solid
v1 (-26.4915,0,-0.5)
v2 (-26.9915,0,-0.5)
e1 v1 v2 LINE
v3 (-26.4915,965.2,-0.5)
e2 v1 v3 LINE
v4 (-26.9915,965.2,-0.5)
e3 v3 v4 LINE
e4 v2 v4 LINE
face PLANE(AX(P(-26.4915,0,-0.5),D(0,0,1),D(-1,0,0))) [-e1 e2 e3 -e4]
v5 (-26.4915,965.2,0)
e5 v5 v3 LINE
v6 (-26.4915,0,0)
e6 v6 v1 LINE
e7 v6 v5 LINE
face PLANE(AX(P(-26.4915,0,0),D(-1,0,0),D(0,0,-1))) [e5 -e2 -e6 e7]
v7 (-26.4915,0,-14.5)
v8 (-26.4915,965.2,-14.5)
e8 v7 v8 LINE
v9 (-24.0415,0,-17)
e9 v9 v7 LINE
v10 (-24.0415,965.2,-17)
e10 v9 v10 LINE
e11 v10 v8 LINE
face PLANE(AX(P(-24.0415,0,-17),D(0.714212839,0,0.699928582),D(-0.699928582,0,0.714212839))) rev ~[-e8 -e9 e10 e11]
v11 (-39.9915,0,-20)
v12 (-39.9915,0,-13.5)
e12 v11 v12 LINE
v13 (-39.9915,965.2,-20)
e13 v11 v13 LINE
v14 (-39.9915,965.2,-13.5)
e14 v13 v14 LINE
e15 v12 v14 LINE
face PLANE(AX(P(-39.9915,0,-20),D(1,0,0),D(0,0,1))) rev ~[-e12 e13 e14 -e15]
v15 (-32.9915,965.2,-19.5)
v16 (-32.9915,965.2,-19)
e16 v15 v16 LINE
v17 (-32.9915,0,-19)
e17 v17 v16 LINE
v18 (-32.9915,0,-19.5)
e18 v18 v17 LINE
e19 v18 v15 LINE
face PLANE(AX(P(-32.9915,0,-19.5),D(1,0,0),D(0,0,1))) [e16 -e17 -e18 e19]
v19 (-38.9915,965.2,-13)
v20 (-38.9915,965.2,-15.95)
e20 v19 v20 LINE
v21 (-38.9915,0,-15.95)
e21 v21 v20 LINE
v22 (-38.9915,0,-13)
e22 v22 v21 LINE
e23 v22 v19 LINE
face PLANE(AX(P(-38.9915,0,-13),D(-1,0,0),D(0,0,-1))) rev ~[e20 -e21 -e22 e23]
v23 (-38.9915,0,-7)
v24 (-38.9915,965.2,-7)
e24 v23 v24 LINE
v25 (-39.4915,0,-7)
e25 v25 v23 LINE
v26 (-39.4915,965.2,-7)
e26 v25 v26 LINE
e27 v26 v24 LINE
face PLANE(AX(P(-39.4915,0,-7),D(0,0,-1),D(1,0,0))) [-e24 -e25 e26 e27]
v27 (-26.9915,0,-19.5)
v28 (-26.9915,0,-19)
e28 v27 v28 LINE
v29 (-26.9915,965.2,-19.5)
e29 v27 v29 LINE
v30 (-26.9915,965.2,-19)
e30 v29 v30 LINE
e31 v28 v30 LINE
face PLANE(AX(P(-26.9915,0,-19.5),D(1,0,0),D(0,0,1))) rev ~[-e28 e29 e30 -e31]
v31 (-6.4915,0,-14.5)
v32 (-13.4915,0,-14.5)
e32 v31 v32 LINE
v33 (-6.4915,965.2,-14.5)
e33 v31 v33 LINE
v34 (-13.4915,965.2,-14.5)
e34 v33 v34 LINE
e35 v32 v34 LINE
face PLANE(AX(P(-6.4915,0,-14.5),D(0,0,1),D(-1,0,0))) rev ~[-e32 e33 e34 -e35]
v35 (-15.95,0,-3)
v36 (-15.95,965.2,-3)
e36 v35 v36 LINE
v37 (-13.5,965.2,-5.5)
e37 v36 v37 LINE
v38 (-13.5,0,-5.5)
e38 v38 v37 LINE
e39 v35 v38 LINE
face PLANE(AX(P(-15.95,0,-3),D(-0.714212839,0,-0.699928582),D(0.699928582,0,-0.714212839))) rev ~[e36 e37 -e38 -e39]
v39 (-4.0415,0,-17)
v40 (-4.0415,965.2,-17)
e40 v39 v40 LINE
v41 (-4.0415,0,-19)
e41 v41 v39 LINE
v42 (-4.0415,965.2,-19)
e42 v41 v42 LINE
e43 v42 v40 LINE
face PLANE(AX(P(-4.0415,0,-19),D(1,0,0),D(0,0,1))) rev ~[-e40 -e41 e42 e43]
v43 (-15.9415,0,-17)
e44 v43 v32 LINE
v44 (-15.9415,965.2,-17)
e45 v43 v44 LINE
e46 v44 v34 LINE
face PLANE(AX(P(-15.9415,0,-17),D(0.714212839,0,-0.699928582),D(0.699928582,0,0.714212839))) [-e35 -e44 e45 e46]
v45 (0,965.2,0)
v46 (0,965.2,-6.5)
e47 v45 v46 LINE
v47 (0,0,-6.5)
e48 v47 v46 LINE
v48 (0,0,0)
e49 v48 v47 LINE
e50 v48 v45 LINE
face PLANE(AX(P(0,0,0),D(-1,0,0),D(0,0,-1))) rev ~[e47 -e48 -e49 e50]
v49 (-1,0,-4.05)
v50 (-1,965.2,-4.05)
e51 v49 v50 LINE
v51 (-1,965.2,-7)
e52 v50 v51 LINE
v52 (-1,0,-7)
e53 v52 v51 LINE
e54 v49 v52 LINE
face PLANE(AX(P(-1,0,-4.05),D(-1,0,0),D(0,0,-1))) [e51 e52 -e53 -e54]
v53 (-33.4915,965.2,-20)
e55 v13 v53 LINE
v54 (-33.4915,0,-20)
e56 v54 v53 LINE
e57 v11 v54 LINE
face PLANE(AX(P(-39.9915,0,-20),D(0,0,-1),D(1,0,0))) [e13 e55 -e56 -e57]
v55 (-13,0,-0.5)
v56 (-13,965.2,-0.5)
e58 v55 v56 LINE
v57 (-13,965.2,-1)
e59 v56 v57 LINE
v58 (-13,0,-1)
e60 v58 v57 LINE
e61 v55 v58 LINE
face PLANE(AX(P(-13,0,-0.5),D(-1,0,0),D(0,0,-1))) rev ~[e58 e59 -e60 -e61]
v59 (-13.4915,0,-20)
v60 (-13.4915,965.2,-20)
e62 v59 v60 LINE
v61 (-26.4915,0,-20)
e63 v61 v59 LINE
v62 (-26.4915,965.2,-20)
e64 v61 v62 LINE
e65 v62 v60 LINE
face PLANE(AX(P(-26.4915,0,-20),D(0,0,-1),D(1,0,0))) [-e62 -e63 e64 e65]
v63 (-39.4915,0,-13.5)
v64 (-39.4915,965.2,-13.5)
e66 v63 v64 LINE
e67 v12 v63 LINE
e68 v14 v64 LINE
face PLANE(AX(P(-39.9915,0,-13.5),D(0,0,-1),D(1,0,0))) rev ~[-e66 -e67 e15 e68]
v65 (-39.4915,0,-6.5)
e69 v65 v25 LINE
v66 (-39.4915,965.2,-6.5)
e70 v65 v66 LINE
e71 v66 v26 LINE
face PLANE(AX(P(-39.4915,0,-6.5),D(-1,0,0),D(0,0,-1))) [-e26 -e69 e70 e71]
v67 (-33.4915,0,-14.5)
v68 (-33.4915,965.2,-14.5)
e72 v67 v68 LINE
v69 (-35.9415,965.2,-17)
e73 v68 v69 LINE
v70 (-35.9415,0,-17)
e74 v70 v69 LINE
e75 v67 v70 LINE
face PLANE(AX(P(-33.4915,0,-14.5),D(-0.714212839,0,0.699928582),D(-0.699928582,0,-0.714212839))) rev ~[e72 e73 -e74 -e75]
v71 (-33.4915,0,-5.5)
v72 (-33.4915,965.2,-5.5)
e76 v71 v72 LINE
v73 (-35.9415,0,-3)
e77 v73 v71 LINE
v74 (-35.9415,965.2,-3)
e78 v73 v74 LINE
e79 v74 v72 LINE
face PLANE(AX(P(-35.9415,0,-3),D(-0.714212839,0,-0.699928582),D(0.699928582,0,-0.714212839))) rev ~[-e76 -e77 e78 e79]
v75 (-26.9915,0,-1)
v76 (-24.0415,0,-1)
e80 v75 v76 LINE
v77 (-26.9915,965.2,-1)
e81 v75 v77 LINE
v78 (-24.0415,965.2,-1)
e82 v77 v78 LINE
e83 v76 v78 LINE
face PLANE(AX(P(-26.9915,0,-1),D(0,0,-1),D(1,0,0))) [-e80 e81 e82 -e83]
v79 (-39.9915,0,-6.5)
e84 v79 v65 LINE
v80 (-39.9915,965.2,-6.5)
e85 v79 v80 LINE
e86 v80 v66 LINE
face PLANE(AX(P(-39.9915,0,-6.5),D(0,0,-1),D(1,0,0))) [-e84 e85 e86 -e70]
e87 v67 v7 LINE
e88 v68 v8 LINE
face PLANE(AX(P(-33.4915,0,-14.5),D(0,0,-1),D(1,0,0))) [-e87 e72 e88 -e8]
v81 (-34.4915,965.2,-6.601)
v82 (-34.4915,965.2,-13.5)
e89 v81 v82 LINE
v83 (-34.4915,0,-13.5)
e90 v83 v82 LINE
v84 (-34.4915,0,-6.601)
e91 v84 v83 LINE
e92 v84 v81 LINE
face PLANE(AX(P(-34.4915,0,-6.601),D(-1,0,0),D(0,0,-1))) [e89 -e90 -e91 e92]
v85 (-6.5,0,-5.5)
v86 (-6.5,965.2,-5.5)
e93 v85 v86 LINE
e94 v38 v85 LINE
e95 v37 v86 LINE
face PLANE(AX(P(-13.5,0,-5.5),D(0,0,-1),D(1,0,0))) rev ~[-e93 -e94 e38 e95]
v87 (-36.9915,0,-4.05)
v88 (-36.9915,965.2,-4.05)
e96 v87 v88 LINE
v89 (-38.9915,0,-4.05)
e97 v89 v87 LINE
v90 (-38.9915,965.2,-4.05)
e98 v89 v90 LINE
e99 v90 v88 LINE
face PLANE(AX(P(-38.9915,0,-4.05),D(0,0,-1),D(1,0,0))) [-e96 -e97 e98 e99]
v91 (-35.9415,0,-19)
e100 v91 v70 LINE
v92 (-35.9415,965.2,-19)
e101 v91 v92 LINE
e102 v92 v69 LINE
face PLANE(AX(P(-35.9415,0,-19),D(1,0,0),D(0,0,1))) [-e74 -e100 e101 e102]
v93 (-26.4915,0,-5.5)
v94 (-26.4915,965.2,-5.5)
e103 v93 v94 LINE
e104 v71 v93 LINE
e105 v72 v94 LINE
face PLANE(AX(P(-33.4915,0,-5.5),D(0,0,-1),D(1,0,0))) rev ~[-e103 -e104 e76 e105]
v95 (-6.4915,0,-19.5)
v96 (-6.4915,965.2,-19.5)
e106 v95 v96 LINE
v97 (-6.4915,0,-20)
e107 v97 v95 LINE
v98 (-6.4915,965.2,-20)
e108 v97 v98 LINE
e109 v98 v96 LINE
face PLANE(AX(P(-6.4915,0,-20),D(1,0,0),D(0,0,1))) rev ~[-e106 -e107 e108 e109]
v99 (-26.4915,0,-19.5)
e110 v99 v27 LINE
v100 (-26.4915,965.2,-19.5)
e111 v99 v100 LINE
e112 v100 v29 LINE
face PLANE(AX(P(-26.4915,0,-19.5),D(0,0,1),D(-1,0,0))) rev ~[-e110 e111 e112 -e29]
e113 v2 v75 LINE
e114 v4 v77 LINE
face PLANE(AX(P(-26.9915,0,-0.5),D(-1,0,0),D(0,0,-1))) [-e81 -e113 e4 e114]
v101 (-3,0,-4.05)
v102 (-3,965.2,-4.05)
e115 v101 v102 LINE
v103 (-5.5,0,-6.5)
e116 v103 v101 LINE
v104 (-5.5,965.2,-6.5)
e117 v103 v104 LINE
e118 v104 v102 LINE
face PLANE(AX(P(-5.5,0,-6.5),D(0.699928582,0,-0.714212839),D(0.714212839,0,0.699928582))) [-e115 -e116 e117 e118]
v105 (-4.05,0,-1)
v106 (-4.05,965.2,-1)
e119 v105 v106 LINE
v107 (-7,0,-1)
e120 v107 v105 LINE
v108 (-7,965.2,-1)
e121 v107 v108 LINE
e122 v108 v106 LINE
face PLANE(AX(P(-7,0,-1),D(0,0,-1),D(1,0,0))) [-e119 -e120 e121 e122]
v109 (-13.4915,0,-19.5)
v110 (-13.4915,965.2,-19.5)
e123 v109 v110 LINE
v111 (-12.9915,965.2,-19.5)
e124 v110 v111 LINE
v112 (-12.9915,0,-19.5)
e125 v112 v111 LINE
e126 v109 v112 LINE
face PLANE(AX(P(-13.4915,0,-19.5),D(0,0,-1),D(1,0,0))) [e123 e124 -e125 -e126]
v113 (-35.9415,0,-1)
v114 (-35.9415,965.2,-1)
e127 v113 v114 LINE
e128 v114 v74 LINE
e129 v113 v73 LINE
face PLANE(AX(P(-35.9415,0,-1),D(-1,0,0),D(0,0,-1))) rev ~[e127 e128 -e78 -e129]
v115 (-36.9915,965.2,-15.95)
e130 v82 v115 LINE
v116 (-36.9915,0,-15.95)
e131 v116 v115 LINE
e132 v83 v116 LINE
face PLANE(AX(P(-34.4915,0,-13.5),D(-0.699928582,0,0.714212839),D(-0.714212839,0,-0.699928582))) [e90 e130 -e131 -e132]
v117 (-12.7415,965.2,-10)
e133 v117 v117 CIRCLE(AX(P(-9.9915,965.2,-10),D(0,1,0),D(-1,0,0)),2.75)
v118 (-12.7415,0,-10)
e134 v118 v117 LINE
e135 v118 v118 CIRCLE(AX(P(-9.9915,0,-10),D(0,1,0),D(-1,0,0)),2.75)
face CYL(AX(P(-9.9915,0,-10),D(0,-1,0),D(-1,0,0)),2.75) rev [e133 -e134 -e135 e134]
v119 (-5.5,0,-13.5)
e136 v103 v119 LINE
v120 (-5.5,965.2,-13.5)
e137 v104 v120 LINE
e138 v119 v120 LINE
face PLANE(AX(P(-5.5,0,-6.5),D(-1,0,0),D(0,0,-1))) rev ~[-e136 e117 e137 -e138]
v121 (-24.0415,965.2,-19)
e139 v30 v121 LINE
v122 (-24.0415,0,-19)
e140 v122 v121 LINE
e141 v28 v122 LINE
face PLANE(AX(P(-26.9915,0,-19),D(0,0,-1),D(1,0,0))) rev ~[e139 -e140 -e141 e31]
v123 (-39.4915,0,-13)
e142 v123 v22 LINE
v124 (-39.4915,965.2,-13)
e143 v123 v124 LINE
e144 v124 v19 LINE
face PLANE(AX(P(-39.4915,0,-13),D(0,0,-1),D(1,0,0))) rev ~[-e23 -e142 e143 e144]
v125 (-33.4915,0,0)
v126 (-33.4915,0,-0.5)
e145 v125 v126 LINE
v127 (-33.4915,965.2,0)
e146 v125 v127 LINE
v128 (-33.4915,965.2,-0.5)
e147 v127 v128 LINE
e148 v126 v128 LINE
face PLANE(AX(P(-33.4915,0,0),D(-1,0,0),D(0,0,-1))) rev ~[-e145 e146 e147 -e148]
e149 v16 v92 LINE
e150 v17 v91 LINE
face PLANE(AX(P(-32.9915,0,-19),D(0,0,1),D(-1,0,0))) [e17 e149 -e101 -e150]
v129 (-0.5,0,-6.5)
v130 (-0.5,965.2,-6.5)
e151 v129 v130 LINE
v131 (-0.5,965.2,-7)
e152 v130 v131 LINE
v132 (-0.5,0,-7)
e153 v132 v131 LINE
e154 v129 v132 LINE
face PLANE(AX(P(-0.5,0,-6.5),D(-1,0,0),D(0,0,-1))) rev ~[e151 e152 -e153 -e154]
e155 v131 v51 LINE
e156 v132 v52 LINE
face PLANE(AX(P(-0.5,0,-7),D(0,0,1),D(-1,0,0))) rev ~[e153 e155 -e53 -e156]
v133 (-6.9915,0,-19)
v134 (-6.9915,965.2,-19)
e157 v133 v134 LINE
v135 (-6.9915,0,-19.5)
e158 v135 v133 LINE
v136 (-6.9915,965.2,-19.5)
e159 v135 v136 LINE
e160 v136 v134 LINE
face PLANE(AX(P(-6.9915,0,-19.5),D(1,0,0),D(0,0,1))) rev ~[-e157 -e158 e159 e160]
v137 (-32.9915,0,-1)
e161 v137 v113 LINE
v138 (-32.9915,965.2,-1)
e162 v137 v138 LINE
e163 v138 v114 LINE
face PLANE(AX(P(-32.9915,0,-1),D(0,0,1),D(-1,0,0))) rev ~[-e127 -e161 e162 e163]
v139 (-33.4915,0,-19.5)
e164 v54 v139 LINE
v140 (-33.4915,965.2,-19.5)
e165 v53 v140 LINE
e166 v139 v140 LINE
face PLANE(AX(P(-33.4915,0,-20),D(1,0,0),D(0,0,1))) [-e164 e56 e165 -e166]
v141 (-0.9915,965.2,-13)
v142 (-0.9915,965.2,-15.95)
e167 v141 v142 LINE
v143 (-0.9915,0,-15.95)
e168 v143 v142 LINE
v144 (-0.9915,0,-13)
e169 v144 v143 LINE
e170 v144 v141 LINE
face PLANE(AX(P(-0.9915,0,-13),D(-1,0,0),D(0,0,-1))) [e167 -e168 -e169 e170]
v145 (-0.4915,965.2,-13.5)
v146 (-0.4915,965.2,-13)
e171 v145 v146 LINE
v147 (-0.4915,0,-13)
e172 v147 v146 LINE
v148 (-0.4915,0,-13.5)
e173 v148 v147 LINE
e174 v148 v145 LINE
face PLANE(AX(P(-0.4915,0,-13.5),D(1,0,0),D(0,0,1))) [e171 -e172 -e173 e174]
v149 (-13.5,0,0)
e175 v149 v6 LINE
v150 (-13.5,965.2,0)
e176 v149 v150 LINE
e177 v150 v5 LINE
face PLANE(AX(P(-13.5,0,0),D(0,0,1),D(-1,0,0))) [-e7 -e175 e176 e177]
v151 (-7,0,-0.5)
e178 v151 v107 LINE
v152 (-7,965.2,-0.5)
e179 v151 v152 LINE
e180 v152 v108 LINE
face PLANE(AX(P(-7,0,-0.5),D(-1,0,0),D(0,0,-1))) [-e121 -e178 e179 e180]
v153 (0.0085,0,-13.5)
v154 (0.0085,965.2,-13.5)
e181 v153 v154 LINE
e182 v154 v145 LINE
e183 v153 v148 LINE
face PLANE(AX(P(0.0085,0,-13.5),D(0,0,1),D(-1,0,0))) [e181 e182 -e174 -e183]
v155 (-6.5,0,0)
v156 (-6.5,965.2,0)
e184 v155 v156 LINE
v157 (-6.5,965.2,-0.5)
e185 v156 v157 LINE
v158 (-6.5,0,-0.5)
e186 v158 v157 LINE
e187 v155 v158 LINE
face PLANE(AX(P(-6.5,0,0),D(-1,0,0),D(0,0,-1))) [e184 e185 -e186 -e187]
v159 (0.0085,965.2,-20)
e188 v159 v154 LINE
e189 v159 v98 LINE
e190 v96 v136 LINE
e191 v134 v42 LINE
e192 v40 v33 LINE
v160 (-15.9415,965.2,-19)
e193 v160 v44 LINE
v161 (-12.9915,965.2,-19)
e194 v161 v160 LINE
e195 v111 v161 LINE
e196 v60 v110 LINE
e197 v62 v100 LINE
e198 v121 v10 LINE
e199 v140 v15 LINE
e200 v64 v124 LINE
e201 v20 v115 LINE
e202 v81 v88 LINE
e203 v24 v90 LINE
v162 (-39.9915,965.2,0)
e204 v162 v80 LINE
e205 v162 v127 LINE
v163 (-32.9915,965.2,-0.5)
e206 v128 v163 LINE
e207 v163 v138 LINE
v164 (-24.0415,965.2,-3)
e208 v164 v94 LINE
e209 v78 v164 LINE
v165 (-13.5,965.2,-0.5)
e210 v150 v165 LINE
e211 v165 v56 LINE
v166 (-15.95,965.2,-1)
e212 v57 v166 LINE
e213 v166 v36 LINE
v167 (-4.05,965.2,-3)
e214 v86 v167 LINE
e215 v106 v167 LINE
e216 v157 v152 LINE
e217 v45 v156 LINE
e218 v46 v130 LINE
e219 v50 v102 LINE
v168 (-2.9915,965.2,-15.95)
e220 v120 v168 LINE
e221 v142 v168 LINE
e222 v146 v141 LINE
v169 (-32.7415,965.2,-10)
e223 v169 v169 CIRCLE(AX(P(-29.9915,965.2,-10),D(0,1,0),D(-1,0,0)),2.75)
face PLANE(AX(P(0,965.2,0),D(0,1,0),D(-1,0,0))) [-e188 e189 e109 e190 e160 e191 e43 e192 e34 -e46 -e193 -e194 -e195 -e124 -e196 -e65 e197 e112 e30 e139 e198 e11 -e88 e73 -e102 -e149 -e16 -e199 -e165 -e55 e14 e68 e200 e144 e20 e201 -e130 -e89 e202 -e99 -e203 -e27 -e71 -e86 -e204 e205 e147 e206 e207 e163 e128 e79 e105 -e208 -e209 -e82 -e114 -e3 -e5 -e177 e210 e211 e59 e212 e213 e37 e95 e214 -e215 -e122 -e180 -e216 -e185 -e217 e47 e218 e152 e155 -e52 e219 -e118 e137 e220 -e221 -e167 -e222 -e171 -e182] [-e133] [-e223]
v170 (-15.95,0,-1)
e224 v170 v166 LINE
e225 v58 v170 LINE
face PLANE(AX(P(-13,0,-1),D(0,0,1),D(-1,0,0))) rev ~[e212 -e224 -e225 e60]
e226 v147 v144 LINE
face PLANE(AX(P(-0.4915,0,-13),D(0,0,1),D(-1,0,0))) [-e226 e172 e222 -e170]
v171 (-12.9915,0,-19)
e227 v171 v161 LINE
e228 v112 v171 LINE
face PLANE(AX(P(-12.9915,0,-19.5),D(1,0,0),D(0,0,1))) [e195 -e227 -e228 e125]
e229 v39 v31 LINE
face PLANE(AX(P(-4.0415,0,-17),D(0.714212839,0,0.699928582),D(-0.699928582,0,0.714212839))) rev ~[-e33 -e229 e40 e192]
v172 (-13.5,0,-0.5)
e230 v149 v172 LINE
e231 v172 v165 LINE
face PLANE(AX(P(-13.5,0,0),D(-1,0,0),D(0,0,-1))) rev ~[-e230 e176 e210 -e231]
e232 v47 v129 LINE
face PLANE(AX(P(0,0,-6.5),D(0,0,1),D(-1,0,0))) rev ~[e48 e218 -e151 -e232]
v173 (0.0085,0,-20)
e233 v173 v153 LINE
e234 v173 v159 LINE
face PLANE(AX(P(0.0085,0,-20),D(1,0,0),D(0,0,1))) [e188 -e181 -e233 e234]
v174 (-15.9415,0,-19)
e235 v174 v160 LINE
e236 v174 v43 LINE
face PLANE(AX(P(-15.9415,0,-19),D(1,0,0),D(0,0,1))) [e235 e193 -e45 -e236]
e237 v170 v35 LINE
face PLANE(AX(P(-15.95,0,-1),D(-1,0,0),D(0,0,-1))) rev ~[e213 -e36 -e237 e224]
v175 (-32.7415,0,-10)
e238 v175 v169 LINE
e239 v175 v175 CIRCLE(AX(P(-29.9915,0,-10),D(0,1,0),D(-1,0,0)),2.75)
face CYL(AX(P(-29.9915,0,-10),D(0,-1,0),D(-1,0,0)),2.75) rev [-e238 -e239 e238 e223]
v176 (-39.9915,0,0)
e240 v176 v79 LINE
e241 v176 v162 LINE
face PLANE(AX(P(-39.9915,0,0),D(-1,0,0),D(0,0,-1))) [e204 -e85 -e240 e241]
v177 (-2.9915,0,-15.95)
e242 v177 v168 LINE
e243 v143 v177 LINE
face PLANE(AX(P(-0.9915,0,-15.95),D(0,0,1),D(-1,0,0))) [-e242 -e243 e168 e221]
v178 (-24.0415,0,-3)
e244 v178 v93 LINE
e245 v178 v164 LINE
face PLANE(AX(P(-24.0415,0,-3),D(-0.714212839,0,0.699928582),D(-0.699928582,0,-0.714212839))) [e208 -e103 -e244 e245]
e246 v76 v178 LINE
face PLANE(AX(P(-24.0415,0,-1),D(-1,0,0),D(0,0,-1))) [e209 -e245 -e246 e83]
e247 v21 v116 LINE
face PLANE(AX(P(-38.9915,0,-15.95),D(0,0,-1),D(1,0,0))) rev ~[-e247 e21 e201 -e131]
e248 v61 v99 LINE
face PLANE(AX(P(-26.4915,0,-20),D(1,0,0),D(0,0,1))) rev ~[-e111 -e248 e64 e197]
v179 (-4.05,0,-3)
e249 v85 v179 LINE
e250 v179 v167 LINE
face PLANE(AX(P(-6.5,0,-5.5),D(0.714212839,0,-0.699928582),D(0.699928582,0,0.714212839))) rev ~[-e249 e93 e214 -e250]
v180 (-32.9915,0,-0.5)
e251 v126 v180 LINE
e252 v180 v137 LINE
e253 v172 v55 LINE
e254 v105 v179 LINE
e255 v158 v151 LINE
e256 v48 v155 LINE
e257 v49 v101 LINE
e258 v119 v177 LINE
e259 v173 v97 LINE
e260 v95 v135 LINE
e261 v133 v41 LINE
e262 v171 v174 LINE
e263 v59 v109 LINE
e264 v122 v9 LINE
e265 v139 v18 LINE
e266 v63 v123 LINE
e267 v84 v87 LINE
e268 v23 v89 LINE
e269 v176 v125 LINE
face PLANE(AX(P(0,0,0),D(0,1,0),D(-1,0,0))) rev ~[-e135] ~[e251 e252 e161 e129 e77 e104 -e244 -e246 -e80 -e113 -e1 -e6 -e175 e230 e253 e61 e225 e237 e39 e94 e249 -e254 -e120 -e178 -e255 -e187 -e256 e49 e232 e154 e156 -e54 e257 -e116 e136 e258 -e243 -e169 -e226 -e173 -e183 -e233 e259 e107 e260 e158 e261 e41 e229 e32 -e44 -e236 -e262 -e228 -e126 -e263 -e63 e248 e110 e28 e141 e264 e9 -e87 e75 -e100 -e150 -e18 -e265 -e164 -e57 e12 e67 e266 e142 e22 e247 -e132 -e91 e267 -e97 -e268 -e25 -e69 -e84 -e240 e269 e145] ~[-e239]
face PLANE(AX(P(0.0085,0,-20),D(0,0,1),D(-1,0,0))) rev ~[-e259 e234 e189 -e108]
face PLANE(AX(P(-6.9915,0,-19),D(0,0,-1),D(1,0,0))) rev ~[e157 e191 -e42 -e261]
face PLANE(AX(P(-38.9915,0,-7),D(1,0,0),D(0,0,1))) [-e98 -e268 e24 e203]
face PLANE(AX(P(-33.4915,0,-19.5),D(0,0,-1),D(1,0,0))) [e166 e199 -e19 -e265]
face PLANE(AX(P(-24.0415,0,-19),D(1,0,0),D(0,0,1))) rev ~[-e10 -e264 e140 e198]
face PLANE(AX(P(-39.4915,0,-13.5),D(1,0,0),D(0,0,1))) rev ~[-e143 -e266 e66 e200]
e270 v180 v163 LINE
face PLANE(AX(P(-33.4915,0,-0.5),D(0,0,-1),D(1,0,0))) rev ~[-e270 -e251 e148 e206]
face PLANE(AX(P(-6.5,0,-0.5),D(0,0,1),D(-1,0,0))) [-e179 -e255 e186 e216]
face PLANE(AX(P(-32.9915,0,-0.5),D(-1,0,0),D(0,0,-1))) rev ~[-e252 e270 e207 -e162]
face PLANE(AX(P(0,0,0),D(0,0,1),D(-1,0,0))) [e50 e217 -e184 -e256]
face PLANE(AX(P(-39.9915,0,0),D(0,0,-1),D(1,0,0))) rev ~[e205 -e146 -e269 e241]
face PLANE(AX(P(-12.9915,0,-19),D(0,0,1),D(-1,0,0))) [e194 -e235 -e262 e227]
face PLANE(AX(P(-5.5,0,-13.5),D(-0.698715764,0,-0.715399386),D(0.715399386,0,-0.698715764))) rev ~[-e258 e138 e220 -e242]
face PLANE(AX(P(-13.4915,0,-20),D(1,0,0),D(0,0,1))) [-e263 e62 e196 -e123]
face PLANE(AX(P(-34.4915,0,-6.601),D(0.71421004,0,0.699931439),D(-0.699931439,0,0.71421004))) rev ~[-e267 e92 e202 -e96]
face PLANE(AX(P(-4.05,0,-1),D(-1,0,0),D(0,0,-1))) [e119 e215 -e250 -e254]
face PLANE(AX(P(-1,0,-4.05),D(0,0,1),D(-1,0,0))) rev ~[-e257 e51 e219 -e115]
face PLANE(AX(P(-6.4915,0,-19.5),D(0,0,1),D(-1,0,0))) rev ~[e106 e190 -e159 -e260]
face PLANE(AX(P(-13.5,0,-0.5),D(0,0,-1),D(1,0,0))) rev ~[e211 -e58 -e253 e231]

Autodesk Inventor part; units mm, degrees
ref_plane "YZ Plane" through (0, 0, 0) normal (1, 0, 0) x (0, 1, 0)
ref_plane "XZ Plane" through (0, 0, 0) normal (0, 1, 0) x (-1, 0, 0)
ref_plane "XY Plane" through (0, 0, 0) normal (0, 0, 1) x (1, 0, 0)
sketch "Sketch1" plane through (0, 0, 0) normal (0, 1, 0) x (-1, 0, 0)
  circle A0 centre (29.9915, -10) radius 2.75
  circle A1 centre (9.9915, -10) radius 2.75
  line L0 (0, 0) -> (0, -6.5)
  line L1 (-0.0085, -20) -> (-0.0085, -13.5)
  line L2 (0, -6.5) -> (0.5, -6.5)
  line L3 (0.5, -6.5) -> (0.5, -7)
  line L4 (0.5, -7) -> (1, -7)
  line L5 (-0.0085, -13.5) -> (0.4915, -13.5)
  line L6 (0.4915, -13.5) -> (0.4915, -13)
  line L7 (0.4915, -13) -> (0.9915, -13)
  line L8 (1, -4.05) -> (3, -4.05)
  line L9 (0.9915, -15.95) -> (2.9915, -15.95)
  line L10 (5.5, -6.5) -> (5.5, -13.5)
  line L11 (5.5, -13.5) -> (2.9915, -15.95)
  line L12 (5.5, -6.5) -> (3, -4.05)
  line L13 (1, -4.05) -> (1, -7)
  line L14 (0.9915, -13) -> (0.9915, -15.95)
  line L15 (-0.0085, -20) -> (6.4915, -20)
  line L16 (6.4915, -20) -> (6.4915, -19.5)
  line L17 (6.4915, -19.5) -> (6.9915, -19.5)
  line L18 (6.9915, -19.5) -> (6.9915, -19)
  line L19 (6.9915, -19) -> (4.0415, -19)
  line L20 (4.0415, -19) -> (4.0415, -17)
  line L21 (13.4915, -20) -> (13.4915, -19.5)
  line L22 (13.4915, -19.5) -> (12.9915, -19.5)
  line L23 (12.9915, -19.5) -> (12.9915, -19)
  line L24 (12.9915, -19) -> (15.9415, -19)
  line L25 (15.9415, -19) -> (15.9415, -17)
  line L26 (15.9415, -17) -> (13.4915, -14.5)
  line L27 (6.4915, -14.5) -> (13.4915, -14.5)
  line L28 (4.0415, -17) -> (6.4915, -14.5)
  line L29 (39.9915, 0) -> (39.9915, -6.5)
  line L30 (39.9915, -6.5) -> (39.4915, -6.5)
  line L31 (39.4915, -6.5) -> (39.4915, -7)
  line L32 (39.4915, -7) -> (38.9915, -7)
  line L33 (38.9915, -7) -> (38.9915, -4.05)
  line L34 (38.9915, -4.05) -> (36.9915, -4.05)
  line L35 (39.9915, -20) -> (39.9915, -13.5)
  line L36 (39.9915, -13.5) -> (39.4915, -13.5)
  line L37 (39.4915, -13.5) -> (39.4915, -13)
  line L38 (39.4915, -13) -> (38.9915, -13)
  line L39 (38.9915, -13) -> (38.9915, -15.95)
  line L40 (38.9915, -15.95) -> (36.9915, -15.95)
  line L41 (34.4915, -6.601) -> (34.4915, -13.5)
  line L42 (34.4915, -13.5) -> (36.9915, -15.95)
  line L43 (34.4915, -6.601) -> (36.9915, -4.05)
  line L44 (39.9915, -20) -> (33.4915, -20)
  line L45 (33.4915, -20) -> (33.4915, -19.5)
  line L46 (33.4915, -19.5) -> (32.9915, -19.5)
  line L47 (32.9915, -19.5) -> (32.9915, -19)
  line L48 (32.9915, -19) -> (35.9415, -19)
  line L49 (35.9415, -19) -> (35.9415, -17)
  line L50 (26.4915, -20) -> (26.4915, -19.5)
  line L51 (26.4915, -19.5) -> (26.9915, -19.5)
  line L52 (26.9915, -19.5) -> (26.9915, -19)
  line L53 (26.9915, -19) -> (24.0415, -19)
  line L54 (24.0415, -19) -> (24.0415, -17)
  line L55 (33.4915, -14.5) -> (26.4915, -14.5)
  line L56 (24.0415, -17) -> (26.4915, -14.5)
  line L57 (33.4915, -14.5) -> (35.9415, -17)
  line L58 (26.4915, -20) -> (13.4915, -20)
  line L59 (39.9915, 0) -> (33.4915, 0)
  line L60 (33.4915, 0) -> (33.4915, -0.5)
  line L61 (33.4915, -0.5) -> (32.9915, -0.5)
  line L62 (32.9915, -0.5) -> (32.9915, -1)
  line L63 (32.9915, -1) -> (35.9415, -1)
  line L64 (35.9415, -1) -> (35.9415, -3)
  line L65 (26.4915, 0) -> (26.4915, -0.5)
  line L66 (26.4915, -0.5) -> (26.9915, -0.5)
  line L67 (26.9915, -0.5) -> (26.9915, -1)
  line L68 (26.9915, -1) -> (24.0415, -1)
  line L69 (24.0415, -1) -> (24.0415, -3)
  line L70 (33.4915, -5.5) -> (26.4915, -5.5)
  line L71 (24.0415, -3) -> (26.4915, -5.5)
  line L72 (35.9415, -3) -> (33.4915, -5.5)
  line L73 (0, 0) -> (6.5, 0)
  line L74 (6.5, 0) -> (6.5, -0.5)
  line L75 (6.5, -0.5) -> (7, -0.5)
  line L76 (7, -0.5) -> (7, -1)
  line L77 (7, -1) -> (4.05, -1)
  line L78 (4.05, -1) -> (4.05, -3)
  line L79 (13.5, 0) -> (13.5, -0.5)
  line L80 (13.5, -0.5) -> (13, -0.5)
  line L81 (13, -0.5) -> (13, -1)
  line L82 (13, -1) -> (15.95, -1)
  line L83 (15.95, -1) -> (15.95, -3)
  line L84 (13.5, -5.5) -> (6.5, -5.5)
  line L85 (6.5, -5.5) -> (4.05, -3)
  line L86 (15.95, -3) -> (13.5, -5.5)
  line L87 (13.5, 0) -> (26.4915, 0)
  dimension "d0" = 40
  dimension "d1" = 20
  dimension "d2" = 5.5
  dimension "d3" = 5.5
  dimension "d4" = 20
  dimension "d11" = 6.5
  dimension "d12" = 6.5
  dimension "d13" = 0.5
  dimension "d14" = 0.5
  dimension "d15" = 0.5
  dimension "d16" = 0.5
  dimension "d17" = 0.5
  dimension "d18" = 0.5
  dimension "d19" = 5.5
  dimension "d20" = 11.9
  dimension "d21" = 6.5
  dimension "d22" = 0.5
  dimension "d23" = 0.5
  dimension "d24" = 0.5
  dimension "d25" = 0.5
  dimension "d26" = 0.5
  dimension "d27" = 0.5
  dimension "d28" = 7
  dimension "d29" = 11.9
  dimension "d31" = 4.05
  dimension "d32" = 2.95
  dimension "d34" = 2
  dimension "d35" = 2
  dimension "d36" = 2
  dimension "d37" = 2
  dimension "d39" = 7
  dimension "d40" = 6.5
  dimension "d41" = 0.5
  dimension "d42" = 0.5
  dimension "d43" = 0.5
  dimension "d44" = 2.95
  dimension "d45" = 2
  dimension "d46" = 6.5
  dimension "d47" = 0.5
  dimension "d48" = 0.5
  dimension "d49" = 0.5
  dimension "d50" = 2.95
  dimension "d51" = 2
  dimension "d52" = 5.5
  dimension "d53" = 6.5
  dimension "d54" = 0.5
  dimension "d55" = 0.5
  dimension "d56" = 0.5
  dimension "d57" = 2.95
  dimension "d58" = 2
  dimension "d59" = 0.5
  dimension "d60" = 0.5
  dimension "d61" = 0.5
  dimension "d62" = 2.95
  dimension "d63" = 2
  dimension "d64" = 7
  dimension "d66" = 6.5
  dimension "d67" = 0.5
  dimension "d68" = 0.5
  dimension "d69" = 0.5
  dimension "d70" = 2.95
  dimension "d71" = 2
  dimension "d72" = 0.5
  dimension "d73" = 0.5
extrude "Extrusion1" add sketch "Sketch1" along normal blind 965.2
properties part number "Tslot_2040extrusion_38inch"
